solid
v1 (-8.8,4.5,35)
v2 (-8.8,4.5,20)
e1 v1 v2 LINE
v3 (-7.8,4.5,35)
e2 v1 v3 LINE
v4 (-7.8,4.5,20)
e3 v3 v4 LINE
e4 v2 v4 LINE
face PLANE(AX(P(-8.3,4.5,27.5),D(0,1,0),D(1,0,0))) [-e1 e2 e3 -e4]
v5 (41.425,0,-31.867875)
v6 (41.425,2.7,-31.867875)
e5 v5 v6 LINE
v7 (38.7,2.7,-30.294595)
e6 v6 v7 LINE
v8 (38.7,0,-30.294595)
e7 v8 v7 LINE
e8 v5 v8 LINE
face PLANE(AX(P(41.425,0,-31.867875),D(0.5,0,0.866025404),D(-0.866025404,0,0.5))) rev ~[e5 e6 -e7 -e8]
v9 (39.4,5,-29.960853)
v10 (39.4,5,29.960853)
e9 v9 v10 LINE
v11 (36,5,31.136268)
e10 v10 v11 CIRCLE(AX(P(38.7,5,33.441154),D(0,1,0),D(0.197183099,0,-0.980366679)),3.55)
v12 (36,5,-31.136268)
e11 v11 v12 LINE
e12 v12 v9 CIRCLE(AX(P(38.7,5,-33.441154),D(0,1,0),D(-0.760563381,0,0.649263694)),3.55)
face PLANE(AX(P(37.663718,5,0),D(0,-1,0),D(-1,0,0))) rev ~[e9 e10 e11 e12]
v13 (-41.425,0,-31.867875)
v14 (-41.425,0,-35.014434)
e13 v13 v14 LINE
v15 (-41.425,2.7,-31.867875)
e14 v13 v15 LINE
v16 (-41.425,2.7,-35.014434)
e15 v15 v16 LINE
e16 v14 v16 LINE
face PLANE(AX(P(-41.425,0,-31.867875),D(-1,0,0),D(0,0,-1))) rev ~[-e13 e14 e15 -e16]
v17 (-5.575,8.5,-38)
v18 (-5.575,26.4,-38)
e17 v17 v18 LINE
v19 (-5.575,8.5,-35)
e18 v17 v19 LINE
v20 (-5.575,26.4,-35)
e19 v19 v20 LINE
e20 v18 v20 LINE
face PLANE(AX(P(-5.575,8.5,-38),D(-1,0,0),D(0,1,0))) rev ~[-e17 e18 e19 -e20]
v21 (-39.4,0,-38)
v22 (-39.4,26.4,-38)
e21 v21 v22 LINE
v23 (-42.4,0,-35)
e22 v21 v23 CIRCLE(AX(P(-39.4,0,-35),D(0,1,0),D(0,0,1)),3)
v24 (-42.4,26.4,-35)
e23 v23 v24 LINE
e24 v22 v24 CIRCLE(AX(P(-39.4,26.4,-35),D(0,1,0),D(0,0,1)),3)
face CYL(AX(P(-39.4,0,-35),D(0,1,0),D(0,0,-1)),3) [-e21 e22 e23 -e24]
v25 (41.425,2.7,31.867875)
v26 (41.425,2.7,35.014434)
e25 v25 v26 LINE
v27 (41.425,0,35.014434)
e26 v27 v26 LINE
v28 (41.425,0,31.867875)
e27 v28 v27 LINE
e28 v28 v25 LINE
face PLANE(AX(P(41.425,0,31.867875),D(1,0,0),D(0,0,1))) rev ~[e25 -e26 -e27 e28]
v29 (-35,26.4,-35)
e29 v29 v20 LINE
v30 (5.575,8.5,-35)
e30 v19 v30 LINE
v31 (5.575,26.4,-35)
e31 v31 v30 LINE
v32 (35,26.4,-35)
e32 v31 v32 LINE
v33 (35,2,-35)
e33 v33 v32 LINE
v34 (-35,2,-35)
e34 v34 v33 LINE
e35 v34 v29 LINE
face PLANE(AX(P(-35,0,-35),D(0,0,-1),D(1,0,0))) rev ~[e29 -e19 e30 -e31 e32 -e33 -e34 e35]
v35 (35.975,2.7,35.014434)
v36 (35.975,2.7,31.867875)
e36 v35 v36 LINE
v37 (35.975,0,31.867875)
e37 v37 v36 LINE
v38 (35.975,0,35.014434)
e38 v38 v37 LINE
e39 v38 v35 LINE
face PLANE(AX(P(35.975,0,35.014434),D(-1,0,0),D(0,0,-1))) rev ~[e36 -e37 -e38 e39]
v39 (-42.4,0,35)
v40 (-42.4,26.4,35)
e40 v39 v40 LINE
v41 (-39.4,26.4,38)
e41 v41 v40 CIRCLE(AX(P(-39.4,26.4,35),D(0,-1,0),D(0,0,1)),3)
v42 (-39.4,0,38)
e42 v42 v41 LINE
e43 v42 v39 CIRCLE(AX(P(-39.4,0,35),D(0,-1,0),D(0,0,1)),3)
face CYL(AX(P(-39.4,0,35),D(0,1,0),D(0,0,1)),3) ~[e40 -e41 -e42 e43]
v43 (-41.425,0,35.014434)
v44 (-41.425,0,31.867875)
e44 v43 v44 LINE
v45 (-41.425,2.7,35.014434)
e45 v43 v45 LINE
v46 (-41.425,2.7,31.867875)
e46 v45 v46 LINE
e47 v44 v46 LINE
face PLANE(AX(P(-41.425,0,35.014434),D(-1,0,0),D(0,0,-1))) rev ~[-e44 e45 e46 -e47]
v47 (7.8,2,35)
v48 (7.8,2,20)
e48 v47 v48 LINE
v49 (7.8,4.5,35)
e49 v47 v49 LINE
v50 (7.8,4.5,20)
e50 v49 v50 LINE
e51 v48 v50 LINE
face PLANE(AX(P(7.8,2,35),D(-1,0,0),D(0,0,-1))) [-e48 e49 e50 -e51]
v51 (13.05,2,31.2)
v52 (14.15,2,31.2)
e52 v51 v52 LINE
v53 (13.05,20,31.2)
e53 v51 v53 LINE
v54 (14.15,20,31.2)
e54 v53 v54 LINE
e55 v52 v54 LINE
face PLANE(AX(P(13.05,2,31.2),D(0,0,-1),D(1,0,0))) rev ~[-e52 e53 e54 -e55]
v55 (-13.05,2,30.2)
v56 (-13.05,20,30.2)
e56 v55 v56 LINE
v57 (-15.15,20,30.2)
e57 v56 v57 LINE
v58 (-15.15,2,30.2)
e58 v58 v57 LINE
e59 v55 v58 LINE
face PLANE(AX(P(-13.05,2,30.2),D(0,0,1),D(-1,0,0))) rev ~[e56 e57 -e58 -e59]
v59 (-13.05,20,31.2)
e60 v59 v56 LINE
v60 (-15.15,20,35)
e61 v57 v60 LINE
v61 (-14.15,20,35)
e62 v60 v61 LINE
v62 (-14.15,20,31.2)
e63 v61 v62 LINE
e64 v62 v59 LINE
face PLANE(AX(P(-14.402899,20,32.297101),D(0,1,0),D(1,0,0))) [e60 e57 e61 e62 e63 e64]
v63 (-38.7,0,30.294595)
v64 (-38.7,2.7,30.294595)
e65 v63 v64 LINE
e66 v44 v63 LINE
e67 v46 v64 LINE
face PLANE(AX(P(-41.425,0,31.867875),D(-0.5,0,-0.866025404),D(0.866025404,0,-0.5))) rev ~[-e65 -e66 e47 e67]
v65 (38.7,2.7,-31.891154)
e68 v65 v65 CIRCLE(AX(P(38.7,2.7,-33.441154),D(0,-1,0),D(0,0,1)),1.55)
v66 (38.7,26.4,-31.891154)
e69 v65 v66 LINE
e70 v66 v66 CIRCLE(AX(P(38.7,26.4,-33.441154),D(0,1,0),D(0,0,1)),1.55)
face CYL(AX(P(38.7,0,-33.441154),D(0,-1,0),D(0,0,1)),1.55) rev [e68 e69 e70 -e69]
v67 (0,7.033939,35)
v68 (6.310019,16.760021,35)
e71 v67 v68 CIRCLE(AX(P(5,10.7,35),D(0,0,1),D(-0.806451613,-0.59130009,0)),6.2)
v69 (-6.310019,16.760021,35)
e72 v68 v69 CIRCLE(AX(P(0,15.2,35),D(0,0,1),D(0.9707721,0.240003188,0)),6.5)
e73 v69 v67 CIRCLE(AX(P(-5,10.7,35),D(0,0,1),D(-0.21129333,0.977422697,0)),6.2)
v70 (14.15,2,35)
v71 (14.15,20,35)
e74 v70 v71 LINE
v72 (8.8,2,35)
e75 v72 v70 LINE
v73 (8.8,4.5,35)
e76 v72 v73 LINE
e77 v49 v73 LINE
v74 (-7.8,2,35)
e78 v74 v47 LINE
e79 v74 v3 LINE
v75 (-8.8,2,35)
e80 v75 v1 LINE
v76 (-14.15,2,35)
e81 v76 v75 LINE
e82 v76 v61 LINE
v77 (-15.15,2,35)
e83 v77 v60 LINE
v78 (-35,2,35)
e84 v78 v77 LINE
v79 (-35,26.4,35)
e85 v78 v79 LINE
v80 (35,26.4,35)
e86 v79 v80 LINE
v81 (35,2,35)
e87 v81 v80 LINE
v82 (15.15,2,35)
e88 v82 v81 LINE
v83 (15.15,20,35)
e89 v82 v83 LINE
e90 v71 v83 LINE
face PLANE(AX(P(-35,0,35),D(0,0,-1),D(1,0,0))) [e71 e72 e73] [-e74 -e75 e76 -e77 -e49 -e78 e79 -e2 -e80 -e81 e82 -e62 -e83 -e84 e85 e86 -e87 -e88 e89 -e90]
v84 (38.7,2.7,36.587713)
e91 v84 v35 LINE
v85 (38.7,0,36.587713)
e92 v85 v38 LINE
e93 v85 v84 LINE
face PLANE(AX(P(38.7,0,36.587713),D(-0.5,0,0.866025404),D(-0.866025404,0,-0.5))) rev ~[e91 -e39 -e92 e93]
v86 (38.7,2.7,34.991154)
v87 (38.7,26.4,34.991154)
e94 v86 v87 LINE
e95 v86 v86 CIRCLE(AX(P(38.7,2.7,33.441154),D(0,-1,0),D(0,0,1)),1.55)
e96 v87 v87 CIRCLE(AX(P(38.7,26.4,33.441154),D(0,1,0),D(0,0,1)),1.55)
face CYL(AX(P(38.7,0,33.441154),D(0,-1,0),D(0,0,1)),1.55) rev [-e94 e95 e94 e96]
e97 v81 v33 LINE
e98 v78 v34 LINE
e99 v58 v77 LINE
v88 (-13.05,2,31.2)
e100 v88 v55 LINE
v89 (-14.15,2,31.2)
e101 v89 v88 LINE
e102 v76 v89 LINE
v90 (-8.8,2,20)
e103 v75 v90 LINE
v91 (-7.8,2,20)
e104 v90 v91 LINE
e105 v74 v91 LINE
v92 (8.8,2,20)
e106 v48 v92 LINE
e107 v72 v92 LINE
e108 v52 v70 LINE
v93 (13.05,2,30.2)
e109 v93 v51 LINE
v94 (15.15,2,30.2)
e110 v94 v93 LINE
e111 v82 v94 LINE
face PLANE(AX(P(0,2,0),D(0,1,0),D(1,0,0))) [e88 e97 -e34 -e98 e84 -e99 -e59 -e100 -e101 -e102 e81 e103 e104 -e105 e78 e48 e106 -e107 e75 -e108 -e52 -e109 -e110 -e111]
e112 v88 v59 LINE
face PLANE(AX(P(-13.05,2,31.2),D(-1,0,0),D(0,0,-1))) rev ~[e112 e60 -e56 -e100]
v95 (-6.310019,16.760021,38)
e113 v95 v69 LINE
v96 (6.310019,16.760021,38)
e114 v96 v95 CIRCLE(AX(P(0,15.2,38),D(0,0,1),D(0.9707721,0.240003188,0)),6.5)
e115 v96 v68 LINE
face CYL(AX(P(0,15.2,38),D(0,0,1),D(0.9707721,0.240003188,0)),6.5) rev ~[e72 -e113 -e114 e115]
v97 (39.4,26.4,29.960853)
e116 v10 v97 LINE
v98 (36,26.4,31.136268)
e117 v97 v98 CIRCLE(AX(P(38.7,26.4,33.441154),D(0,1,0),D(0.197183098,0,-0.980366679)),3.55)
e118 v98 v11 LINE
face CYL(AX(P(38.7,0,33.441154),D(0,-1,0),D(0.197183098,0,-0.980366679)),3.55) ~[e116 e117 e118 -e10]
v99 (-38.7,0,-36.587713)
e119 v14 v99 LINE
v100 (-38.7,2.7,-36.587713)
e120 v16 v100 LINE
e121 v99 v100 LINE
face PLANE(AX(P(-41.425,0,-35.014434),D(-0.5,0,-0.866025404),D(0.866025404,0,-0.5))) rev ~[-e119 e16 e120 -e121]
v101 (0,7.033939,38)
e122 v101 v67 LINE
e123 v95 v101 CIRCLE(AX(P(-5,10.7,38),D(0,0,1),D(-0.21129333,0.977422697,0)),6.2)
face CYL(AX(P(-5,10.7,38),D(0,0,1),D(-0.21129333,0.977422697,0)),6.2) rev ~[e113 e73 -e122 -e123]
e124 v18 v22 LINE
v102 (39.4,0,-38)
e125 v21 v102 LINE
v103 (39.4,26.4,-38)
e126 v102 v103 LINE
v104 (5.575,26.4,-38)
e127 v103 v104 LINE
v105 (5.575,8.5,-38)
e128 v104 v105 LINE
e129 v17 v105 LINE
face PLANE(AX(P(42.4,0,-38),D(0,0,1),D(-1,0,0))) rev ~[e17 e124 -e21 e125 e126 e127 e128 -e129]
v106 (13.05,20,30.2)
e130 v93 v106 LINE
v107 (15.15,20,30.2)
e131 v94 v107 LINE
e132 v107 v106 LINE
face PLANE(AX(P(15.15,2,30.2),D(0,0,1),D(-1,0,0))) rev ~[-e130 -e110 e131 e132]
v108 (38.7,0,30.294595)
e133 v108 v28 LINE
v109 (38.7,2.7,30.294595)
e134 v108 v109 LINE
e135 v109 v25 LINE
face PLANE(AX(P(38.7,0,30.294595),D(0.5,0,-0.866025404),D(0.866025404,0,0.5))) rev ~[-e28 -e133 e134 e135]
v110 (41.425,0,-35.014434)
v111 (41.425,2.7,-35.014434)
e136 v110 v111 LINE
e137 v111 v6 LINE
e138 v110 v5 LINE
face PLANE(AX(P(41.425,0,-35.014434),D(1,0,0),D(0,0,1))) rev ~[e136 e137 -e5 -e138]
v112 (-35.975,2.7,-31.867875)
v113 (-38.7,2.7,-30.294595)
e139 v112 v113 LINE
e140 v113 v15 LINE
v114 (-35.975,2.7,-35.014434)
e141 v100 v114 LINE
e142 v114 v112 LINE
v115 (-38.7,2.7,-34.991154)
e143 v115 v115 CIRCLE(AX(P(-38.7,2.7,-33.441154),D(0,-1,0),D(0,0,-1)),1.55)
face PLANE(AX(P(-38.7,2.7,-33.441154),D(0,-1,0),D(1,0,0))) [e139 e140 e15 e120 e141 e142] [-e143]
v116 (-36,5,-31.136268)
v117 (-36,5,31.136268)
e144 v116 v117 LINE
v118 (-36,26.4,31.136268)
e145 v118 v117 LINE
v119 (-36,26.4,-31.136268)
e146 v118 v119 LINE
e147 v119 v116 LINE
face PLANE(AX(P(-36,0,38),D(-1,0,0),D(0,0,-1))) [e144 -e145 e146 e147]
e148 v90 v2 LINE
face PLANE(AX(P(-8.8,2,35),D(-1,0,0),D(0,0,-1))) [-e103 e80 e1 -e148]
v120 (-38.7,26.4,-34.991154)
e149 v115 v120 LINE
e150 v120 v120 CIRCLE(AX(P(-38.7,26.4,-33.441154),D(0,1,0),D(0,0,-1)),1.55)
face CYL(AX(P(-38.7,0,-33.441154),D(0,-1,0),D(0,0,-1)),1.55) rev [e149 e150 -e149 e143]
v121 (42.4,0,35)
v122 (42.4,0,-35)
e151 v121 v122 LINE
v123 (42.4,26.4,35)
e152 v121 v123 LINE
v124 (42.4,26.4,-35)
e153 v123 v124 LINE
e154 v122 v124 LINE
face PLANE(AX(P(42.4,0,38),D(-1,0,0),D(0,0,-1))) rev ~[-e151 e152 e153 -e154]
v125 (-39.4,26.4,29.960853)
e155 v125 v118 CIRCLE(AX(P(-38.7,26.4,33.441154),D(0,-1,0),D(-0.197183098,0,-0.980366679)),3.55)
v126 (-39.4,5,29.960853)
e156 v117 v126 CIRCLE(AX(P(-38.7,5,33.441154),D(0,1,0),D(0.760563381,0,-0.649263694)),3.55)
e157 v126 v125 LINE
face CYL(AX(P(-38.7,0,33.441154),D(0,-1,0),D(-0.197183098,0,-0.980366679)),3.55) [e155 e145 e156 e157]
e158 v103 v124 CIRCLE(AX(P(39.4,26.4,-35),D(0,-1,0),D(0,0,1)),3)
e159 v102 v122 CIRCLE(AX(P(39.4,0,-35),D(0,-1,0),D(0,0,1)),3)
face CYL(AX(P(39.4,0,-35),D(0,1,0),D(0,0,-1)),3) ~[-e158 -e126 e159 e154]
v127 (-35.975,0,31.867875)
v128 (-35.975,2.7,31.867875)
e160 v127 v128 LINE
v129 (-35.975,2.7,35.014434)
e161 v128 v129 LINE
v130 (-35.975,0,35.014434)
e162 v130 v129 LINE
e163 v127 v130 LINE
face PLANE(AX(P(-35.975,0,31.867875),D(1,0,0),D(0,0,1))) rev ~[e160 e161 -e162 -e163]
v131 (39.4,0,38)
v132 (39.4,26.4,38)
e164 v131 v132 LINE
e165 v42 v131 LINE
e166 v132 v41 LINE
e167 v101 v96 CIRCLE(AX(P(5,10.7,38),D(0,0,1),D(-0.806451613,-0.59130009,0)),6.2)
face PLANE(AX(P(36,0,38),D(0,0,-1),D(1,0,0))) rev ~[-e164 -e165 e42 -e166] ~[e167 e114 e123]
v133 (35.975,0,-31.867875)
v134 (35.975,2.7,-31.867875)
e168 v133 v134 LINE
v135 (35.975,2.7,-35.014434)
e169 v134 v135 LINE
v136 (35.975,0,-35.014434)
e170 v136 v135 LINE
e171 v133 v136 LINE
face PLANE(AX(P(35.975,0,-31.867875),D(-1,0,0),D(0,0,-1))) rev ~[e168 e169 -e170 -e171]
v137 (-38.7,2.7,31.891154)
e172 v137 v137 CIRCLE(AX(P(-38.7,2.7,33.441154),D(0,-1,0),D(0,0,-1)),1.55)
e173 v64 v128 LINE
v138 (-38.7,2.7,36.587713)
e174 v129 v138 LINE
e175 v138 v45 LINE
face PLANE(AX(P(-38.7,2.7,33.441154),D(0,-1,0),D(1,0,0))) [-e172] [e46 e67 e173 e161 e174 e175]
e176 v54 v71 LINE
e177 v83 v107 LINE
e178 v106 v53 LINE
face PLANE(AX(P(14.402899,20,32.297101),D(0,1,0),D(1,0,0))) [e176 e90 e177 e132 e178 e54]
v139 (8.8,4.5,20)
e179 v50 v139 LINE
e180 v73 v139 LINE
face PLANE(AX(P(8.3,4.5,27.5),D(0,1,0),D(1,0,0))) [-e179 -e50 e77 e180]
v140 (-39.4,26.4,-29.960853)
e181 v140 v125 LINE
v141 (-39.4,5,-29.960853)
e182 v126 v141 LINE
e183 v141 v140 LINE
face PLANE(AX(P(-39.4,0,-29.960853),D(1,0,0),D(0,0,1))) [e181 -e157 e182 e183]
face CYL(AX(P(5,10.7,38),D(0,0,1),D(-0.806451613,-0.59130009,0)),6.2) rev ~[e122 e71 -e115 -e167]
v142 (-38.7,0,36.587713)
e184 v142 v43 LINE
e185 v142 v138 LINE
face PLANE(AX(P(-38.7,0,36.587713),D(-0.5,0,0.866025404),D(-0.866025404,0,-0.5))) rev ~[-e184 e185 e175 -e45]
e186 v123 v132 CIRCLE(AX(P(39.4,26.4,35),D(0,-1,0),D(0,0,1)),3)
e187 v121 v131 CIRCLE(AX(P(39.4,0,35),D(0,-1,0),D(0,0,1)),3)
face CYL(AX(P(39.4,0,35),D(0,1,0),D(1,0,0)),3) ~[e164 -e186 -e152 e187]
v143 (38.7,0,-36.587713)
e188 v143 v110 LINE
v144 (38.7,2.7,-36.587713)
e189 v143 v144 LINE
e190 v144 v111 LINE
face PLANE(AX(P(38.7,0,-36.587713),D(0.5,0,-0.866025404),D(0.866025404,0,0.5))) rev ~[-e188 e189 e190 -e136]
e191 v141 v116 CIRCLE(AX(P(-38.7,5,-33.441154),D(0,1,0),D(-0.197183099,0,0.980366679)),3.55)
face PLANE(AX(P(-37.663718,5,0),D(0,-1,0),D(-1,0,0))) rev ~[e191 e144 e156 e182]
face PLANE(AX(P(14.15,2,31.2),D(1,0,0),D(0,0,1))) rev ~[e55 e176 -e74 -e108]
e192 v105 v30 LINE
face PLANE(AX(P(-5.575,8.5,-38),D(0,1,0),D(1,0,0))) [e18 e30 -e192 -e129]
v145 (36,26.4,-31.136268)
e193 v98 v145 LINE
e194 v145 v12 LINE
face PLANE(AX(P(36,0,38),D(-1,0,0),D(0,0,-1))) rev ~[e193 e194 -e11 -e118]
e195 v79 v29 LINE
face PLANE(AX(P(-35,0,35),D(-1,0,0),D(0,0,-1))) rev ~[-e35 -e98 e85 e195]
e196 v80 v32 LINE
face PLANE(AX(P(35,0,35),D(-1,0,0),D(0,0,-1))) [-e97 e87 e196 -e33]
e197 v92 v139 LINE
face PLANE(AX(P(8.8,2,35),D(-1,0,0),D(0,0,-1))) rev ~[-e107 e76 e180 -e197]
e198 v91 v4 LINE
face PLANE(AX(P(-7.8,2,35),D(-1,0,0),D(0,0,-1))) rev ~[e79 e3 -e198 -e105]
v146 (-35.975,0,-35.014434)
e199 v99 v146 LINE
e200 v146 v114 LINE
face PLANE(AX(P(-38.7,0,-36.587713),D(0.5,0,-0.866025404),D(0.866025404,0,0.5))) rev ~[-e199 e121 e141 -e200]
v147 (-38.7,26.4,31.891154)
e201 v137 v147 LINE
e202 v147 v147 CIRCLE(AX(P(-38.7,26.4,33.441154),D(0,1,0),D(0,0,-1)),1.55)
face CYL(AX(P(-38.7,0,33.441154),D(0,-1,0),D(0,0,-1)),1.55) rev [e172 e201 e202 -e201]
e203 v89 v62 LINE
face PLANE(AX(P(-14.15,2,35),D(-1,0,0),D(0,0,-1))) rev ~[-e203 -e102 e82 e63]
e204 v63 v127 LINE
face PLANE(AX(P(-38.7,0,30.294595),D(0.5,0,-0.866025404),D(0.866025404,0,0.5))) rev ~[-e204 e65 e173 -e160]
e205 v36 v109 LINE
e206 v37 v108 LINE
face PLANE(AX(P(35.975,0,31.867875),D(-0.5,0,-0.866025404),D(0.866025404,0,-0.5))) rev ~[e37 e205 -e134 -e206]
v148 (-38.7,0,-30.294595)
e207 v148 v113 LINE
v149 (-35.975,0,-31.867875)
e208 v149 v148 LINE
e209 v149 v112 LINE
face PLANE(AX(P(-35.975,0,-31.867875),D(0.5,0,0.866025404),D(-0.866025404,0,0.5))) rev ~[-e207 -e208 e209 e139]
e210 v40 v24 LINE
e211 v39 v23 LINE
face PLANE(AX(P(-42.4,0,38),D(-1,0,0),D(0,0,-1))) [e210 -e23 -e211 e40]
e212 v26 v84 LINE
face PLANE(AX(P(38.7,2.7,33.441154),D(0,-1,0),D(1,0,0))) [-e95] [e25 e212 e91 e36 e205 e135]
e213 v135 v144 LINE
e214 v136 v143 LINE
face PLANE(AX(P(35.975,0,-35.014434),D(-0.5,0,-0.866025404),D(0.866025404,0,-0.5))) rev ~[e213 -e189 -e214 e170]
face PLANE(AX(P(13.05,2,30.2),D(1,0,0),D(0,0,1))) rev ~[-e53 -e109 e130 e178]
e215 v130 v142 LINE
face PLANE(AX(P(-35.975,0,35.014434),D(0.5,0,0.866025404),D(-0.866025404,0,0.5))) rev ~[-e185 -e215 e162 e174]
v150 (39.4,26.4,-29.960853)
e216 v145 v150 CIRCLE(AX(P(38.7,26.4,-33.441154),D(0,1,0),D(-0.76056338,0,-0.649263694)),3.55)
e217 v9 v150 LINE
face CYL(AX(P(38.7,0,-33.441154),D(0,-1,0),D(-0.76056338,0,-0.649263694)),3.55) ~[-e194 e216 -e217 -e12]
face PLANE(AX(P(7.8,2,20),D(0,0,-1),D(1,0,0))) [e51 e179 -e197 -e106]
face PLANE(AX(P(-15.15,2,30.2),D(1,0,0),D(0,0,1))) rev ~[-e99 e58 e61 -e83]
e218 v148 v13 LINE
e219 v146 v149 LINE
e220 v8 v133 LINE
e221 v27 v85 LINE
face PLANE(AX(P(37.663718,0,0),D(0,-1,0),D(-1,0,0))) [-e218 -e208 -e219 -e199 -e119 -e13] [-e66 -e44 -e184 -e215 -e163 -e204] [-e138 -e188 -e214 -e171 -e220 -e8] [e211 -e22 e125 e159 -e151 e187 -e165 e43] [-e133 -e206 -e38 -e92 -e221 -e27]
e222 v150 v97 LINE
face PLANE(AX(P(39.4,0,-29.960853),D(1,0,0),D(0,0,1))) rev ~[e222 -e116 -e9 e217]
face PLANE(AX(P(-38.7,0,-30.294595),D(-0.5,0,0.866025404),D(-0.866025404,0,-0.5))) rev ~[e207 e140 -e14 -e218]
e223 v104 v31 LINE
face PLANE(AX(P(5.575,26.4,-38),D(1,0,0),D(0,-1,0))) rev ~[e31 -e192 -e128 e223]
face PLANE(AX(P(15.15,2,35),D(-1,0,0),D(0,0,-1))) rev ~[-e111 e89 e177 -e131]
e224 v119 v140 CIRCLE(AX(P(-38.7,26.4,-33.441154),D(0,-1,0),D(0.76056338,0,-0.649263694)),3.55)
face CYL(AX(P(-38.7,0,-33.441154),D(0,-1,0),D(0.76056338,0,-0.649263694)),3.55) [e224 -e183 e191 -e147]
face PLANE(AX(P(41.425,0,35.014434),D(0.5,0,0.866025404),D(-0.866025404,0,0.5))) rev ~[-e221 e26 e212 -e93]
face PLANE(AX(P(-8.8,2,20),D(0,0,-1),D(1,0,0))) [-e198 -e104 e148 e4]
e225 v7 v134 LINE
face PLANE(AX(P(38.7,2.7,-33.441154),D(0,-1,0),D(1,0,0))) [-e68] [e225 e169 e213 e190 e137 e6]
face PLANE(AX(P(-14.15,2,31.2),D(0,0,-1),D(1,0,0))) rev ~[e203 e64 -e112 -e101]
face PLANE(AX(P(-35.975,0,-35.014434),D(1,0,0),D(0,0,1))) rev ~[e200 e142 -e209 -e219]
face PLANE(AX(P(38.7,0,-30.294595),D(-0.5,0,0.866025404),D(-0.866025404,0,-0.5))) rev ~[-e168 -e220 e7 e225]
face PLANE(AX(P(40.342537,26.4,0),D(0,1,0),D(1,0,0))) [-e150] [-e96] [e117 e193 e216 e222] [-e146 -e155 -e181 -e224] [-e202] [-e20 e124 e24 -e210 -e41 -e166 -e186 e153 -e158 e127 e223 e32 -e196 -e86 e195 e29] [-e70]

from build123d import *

# Parameters (mm, degrees)
SKETCH2_W            = 70
SKETCH2_H            = 70
BOSS_EXTRUDE1_DEPTH  = 2
BOSS_EXTRUDE2_DEPTH  = 18
SKETCH3_3_W          = 1
SKETCH3_3_H          = 15
BOSS_EXTRUDE3_DEPTH  = 2.5
SKETCH4_W            = 72
SKETCH4_H            = 76
SKETCH4_W_2          = 70
SKETCH4_H_2          = 70
BOSS_EXTRUDE4_DEPTH  = 26.4
SKETCH12_R           = 1.55
BOSS_EXTRUDE10_DEPTH = 26.4
BOSS_EXTRUDE11_DEPTH = 5
SKETCH1_R            = 1.18
SKETCH1_R_2          = 1.6
CUT_EXTRUDE1_DEPTH   = 25
FILLET1_R            = 3
CUT_EXTRUDE4_DEPTH   = 2.7
CUT_EXTRUDE5_DEPTH   = 10


with BuildPart() as part:
    # Sketch2 → Boss-Extrude1 (new body)
    with BuildSketch(Plane(origin=(0, 0, 0), x_dir=(1, 0, 0), z_dir=(0, 1, 0))):
        Rectangle(SKETCH2_W, SKETCH2_H)
    extrude(amount=BOSS_EXTRUDE1_DEPTH)

    # Sketch3 → Boss-Extrude2 (add)
    with BuildSketch(Plane(origin=(0, 2, 0), x_dir=(1, 0, 0), z_dir=(0, 1, 0))):
        Polygon((13.05, -31.2), (14.15, -31.2), (14.15, -35), (15.15, -35), (15.15, -30.2), (13.05, -30.2), align=None)
        Polygon((-15.15, -35), (-14.15, -35), (-14.15, -31.2), (-13.05, -31.2), (-13.05, -30.2), (-15.15, -30.2), align=None)
    extrude(amount=BOSS_EXTRUDE2_DEPTH)

    # Sketch3<3> → Boss-Extrude3 (add)
    with BuildSketch(Plane(origin=(0, 2, 0), x_dir=(1, 0, 0), z_dir=(0, 1, 0))):
        with Locations((-8.3, -27.5)):
            Rectangle(SKETCH3_3_W, SKETCH3_3_H)
        with Locations((8.3, -27.5)):
            Rectangle(SKETCH3_3_W, SKETCH3_3_H)
    extrude(amount=BOSS_EXTRUDE3_DEPTH)

    # Sketch4 → Boss-Extrude4 (add)
    with BuildSketch(Plane(origin=(0, 0, 0), x_dir=(1, 0, 0), z_dir=(0, 1, 0))):
        Rectangle(SKETCH4_W, SKETCH4_H)
        Rectangle(SKETCH4_W_2, SKETCH4_H_2, mode=Mode.SUBTRACT)
    extrude(amount=BOSS_EXTRUDE4_DEPTH)

    # Sketch12 → Boss-Extrude10 (add)
    # profile 1 of 2: a face of its own
    with BuildSketch(Plane(origin=(0, 0, 0), x_dir=(1, 0, 0), z_dir=(0, 1, 0))):
        with BuildLine():
            Line((36, -38), (42.4, -38))
            Line((42.4, -38), (42.4, 38))
            Line((42.4, 38), (36, 38))
            Line((36, 38), (36, 35.746040388))
            ThreePointArc((36, 35.746040388), (35.639428233, 31.642432378), (39.4, 29.960852562))
            Line((39.4, 29.960852562), (39.4, -29.960852562))
            ThreePointArc((39.4, -29.960852562), (35.639428233, -31.642432378), (36, -35.746040388))
            Line((36, -35.746040388), (36, -38))
        make_face()
        with Locations(Location((38.7, -33.441154273, 0), (0, 0, 270))):
            Circle(SKETCH12_R, mode=Mode.SUBTRACT)
        with Locations(Location((38.7, 33.441154273, 0), (0, 0, 270))):
            Circle(SKETCH12_R, mode=Mode.SUBTRACT)
    # profile 2 of 2: a face of its own
    with BuildSketch(Plane(origin=(0, 0, 0), x_dir=(1, 0, 0), z_dir=(0, 1, 0))):
        with BuildLine():
            Line((-36, 38), (-36, 35.746040388))
            ThreePointArc((-36, 35.746040388), (-35.639428233, 31.642432378), (-39.4, 29.960852562))
            Line((-39.4, 29.960852562), (-39.4, -29.960852562))
            ThreePointArc((-39.4, -29.960852562), (-35.639428233, -31.642432378), (-36, -35.746040388))
            Line((-36, -35.746040388), (-36, -38))
            Line((-36, -38), (-42.4, -38))
            Line((-42.4, -38), (-42.4, 38))
            Line((-42.4, 38), (-36, 38))
        make_face()
        with Locations(Location((-38.7, 33.441154273, 0), (0, 0, 90))):
            Circle(SKETCH12_R, mode=Mode.SUBTRACT)
        with Locations(Location((-38.7, -33.441154273, 0), (0, 0, 90))):
            Circle(SKETCH12_R, mode=Mode.SUBTRACT)
    extrude(amount=BOSS_EXTRUDE10_DEPTH)

    # Sketch13 → Boss-Extrude11 (add)
    with BuildSketch(Plane(origin=(0, 0, 0), x_dir=(1, 0, 0), z_dir=(0, 1, 0))):
        with BuildLine():
            Line((39.4, 29.960852562), (39.4, -29.960852562))
            ThreePointArc((39.4, -29.960852562), (37.540086013, -30.085994136), (36, -31.136268159))
            Line((36, -31.136268159), (36, 31.136268159))
            ThreePointArc((36, 31.136268159), (37.540086013, 30.085994136), (39.4, 29.960852562))
        make_face()
        with BuildLine():
            Line((-39.4, -29.960852562), (-39.4, 29.960852562))
            ThreePointArc((-39.4, 29.960852562), (-37.540086013, 30.085994136), (-36, 31.136268159))
            Line((-36, 31.136268159), (-36, -31.136268159))
            ThreePointArc((-36, -31.136268159), (-37.540086013, -30.085994136), (-39.4, -29.960852562))
        make_face()
    extrude(amount=BOSS_EXTRUDE11_DEPTH)

    # Sketch1 → Cut-Extrude1 (cut)
    # profile 1 of 5: a face of its own
    with BuildSketch(Plane.XY.offset(38)):
        with BuildLine():
            ThreePointArc((6.310018649, 16.760020721), (0, 21.7), (-6.310018649, 16.760020721))
            ThreePointArc((-6.310018649, 16.760020721), (-10.201264735, 7.325560023), (0, 7.033939444))
            ThreePointArc((0, 7.033939444), (10.201264735, 7.325560023), (6.310018649, 16.760020721))
        make_face()
        with BuildLine():
            ThreePointArc((4.487784147, 14.868649052), (0, 19.7), (-4.487784147, 14.868649052))
            ThreePointArc((-4.487784147, 14.868649052), (-8.121835414, 7.890348127), (-0.800613643, 10.771792937))
            ThreePointArc((-0.800613643, 10.771792937), (0, 10.7), (0.800613643, 10.771792937))
            ThreePointArc((0.800613643, 10.771792937), (8.121835414, 7.890348127), (4.487784147, 14.868649052))
        make_face(mode=Mode.SUBTRACT)
    # profile 2 of 5: a face of its own
    with BuildSketch(Plane.XY.offset(38)):
        with BuildLine():
            ThreePointArc((0.800613643, 10.771792937), (8.121835414, 7.890348127), (4.487784147, 14.868649052))
            ThreePointArc((4.487784147, 14.868649052), (0, 19.7), (-4.487784147, 14.868649052))
            ThreePointArc((-4.487784147, 14.868649052), (-8.121835414, 7.890348127), (-0.800613643, 10.771792937))
            ThreePointArc((-0.800613643, 10.771792937), (0, 10.7), (0.800613643, 10.771792937))
        make_face()
        with Locations((-5, 10.7)):
            Circle(SKETCH1_R, mode=Mode.SUBTRACT)
        with Locations((5, 10.7)):
            Circle(SKETCH1_R, mode=Mode.SUBTRACT)
        with Locations((0, 15.2)):
            Circle(SKETCH1_R_2, mode=Mode.SUBTRACT)
    # profile 3 of 5: a face of its own
    with BuildSketch(Plane.XY.offset(38)):
        with Locations((0, 15.2)):
            Circle(SKETCH1_R_2)
    # profile 4 of 5: a face of its own
    with BuildSketch(Plane.XY.offset(38)):
        with Locations((5, 10.7)):
            Circle(SKETCH1_R)
    # profile 5 of 5: a face of its own
    with BuildSketch(Plane.XY.offset(38)):
        with Locations((-5, 10.7)):
            Circle(SKETCH1_R)
    extrude(amount=-CUT_EXTRUDE1_DEPTH, mode=Mode.SUBTRACT)

    # Fillet1
    fillet1_edges = [part.edges().sort_by_distance(p)[0] for p in [
        (42.4, 13.2, -38),
        (42.4, 13.2, 38),
        (-42.4, 13.2, 38),
        (-42.4, 13.2, -38),
    ]]
    fillet(fillet1_edges, radius=FILLET1_R)

    # Sketch14 → Cut-Extrude4 (cut)
    with BuildSketch(Plane.XZ):
        Polygon((-41.425, 31.86787479), (-38.7, 30.294595306), (-35.975, 31.86787479), (-35.975, 35.014433757), (-38.7, 36.58771324), (-41.425, 35.014433757), align=None)
        Polygon((41.425, 31.86787479), (41.425, 35.014433757), (38.7, 36.58771324), (35.975, 35.014433757), (35.975, 31.86787479), (38.7, 30.294595306), align=None)
        Polygon((41.425, -35.014433757), (41.425, -31.86787479), (38.7, -30.294595306), (35.975, -31.86787479), (35.975, -35.014433757), (38.7, -36.58771324), align=None)
        Polygon((-35.975, -35.014433757), (-35.975, -31.86787479), (-38.7, -30.294595306), (-41.425, -31.86787479), (-41.425, -35.014433757), (-38.7, -36.58771324), align=None)
    extrude(amount=-CUT_EXTRUDE4_DEPTH, mode=Mode.SUBTRACT)

    # Sketch15 → Cut-Extrude5 (cut)
    with BuildSketch(Plane(origin=(0, 0, -38), x_dir=(-1, 0, 0), z_dir=(0, 0, -1))):
        Polygon((-5.575, 14), (-5.575, 26.4), (5.575, 26.4), (5.575, 14), (5.575, 8.5), (-5.575, 8.5), align=None)
    extrude(amount=-CUT_EXTRUDE5_DEPTH, mode=Mode.SUBTRACT)


solid = part.part
